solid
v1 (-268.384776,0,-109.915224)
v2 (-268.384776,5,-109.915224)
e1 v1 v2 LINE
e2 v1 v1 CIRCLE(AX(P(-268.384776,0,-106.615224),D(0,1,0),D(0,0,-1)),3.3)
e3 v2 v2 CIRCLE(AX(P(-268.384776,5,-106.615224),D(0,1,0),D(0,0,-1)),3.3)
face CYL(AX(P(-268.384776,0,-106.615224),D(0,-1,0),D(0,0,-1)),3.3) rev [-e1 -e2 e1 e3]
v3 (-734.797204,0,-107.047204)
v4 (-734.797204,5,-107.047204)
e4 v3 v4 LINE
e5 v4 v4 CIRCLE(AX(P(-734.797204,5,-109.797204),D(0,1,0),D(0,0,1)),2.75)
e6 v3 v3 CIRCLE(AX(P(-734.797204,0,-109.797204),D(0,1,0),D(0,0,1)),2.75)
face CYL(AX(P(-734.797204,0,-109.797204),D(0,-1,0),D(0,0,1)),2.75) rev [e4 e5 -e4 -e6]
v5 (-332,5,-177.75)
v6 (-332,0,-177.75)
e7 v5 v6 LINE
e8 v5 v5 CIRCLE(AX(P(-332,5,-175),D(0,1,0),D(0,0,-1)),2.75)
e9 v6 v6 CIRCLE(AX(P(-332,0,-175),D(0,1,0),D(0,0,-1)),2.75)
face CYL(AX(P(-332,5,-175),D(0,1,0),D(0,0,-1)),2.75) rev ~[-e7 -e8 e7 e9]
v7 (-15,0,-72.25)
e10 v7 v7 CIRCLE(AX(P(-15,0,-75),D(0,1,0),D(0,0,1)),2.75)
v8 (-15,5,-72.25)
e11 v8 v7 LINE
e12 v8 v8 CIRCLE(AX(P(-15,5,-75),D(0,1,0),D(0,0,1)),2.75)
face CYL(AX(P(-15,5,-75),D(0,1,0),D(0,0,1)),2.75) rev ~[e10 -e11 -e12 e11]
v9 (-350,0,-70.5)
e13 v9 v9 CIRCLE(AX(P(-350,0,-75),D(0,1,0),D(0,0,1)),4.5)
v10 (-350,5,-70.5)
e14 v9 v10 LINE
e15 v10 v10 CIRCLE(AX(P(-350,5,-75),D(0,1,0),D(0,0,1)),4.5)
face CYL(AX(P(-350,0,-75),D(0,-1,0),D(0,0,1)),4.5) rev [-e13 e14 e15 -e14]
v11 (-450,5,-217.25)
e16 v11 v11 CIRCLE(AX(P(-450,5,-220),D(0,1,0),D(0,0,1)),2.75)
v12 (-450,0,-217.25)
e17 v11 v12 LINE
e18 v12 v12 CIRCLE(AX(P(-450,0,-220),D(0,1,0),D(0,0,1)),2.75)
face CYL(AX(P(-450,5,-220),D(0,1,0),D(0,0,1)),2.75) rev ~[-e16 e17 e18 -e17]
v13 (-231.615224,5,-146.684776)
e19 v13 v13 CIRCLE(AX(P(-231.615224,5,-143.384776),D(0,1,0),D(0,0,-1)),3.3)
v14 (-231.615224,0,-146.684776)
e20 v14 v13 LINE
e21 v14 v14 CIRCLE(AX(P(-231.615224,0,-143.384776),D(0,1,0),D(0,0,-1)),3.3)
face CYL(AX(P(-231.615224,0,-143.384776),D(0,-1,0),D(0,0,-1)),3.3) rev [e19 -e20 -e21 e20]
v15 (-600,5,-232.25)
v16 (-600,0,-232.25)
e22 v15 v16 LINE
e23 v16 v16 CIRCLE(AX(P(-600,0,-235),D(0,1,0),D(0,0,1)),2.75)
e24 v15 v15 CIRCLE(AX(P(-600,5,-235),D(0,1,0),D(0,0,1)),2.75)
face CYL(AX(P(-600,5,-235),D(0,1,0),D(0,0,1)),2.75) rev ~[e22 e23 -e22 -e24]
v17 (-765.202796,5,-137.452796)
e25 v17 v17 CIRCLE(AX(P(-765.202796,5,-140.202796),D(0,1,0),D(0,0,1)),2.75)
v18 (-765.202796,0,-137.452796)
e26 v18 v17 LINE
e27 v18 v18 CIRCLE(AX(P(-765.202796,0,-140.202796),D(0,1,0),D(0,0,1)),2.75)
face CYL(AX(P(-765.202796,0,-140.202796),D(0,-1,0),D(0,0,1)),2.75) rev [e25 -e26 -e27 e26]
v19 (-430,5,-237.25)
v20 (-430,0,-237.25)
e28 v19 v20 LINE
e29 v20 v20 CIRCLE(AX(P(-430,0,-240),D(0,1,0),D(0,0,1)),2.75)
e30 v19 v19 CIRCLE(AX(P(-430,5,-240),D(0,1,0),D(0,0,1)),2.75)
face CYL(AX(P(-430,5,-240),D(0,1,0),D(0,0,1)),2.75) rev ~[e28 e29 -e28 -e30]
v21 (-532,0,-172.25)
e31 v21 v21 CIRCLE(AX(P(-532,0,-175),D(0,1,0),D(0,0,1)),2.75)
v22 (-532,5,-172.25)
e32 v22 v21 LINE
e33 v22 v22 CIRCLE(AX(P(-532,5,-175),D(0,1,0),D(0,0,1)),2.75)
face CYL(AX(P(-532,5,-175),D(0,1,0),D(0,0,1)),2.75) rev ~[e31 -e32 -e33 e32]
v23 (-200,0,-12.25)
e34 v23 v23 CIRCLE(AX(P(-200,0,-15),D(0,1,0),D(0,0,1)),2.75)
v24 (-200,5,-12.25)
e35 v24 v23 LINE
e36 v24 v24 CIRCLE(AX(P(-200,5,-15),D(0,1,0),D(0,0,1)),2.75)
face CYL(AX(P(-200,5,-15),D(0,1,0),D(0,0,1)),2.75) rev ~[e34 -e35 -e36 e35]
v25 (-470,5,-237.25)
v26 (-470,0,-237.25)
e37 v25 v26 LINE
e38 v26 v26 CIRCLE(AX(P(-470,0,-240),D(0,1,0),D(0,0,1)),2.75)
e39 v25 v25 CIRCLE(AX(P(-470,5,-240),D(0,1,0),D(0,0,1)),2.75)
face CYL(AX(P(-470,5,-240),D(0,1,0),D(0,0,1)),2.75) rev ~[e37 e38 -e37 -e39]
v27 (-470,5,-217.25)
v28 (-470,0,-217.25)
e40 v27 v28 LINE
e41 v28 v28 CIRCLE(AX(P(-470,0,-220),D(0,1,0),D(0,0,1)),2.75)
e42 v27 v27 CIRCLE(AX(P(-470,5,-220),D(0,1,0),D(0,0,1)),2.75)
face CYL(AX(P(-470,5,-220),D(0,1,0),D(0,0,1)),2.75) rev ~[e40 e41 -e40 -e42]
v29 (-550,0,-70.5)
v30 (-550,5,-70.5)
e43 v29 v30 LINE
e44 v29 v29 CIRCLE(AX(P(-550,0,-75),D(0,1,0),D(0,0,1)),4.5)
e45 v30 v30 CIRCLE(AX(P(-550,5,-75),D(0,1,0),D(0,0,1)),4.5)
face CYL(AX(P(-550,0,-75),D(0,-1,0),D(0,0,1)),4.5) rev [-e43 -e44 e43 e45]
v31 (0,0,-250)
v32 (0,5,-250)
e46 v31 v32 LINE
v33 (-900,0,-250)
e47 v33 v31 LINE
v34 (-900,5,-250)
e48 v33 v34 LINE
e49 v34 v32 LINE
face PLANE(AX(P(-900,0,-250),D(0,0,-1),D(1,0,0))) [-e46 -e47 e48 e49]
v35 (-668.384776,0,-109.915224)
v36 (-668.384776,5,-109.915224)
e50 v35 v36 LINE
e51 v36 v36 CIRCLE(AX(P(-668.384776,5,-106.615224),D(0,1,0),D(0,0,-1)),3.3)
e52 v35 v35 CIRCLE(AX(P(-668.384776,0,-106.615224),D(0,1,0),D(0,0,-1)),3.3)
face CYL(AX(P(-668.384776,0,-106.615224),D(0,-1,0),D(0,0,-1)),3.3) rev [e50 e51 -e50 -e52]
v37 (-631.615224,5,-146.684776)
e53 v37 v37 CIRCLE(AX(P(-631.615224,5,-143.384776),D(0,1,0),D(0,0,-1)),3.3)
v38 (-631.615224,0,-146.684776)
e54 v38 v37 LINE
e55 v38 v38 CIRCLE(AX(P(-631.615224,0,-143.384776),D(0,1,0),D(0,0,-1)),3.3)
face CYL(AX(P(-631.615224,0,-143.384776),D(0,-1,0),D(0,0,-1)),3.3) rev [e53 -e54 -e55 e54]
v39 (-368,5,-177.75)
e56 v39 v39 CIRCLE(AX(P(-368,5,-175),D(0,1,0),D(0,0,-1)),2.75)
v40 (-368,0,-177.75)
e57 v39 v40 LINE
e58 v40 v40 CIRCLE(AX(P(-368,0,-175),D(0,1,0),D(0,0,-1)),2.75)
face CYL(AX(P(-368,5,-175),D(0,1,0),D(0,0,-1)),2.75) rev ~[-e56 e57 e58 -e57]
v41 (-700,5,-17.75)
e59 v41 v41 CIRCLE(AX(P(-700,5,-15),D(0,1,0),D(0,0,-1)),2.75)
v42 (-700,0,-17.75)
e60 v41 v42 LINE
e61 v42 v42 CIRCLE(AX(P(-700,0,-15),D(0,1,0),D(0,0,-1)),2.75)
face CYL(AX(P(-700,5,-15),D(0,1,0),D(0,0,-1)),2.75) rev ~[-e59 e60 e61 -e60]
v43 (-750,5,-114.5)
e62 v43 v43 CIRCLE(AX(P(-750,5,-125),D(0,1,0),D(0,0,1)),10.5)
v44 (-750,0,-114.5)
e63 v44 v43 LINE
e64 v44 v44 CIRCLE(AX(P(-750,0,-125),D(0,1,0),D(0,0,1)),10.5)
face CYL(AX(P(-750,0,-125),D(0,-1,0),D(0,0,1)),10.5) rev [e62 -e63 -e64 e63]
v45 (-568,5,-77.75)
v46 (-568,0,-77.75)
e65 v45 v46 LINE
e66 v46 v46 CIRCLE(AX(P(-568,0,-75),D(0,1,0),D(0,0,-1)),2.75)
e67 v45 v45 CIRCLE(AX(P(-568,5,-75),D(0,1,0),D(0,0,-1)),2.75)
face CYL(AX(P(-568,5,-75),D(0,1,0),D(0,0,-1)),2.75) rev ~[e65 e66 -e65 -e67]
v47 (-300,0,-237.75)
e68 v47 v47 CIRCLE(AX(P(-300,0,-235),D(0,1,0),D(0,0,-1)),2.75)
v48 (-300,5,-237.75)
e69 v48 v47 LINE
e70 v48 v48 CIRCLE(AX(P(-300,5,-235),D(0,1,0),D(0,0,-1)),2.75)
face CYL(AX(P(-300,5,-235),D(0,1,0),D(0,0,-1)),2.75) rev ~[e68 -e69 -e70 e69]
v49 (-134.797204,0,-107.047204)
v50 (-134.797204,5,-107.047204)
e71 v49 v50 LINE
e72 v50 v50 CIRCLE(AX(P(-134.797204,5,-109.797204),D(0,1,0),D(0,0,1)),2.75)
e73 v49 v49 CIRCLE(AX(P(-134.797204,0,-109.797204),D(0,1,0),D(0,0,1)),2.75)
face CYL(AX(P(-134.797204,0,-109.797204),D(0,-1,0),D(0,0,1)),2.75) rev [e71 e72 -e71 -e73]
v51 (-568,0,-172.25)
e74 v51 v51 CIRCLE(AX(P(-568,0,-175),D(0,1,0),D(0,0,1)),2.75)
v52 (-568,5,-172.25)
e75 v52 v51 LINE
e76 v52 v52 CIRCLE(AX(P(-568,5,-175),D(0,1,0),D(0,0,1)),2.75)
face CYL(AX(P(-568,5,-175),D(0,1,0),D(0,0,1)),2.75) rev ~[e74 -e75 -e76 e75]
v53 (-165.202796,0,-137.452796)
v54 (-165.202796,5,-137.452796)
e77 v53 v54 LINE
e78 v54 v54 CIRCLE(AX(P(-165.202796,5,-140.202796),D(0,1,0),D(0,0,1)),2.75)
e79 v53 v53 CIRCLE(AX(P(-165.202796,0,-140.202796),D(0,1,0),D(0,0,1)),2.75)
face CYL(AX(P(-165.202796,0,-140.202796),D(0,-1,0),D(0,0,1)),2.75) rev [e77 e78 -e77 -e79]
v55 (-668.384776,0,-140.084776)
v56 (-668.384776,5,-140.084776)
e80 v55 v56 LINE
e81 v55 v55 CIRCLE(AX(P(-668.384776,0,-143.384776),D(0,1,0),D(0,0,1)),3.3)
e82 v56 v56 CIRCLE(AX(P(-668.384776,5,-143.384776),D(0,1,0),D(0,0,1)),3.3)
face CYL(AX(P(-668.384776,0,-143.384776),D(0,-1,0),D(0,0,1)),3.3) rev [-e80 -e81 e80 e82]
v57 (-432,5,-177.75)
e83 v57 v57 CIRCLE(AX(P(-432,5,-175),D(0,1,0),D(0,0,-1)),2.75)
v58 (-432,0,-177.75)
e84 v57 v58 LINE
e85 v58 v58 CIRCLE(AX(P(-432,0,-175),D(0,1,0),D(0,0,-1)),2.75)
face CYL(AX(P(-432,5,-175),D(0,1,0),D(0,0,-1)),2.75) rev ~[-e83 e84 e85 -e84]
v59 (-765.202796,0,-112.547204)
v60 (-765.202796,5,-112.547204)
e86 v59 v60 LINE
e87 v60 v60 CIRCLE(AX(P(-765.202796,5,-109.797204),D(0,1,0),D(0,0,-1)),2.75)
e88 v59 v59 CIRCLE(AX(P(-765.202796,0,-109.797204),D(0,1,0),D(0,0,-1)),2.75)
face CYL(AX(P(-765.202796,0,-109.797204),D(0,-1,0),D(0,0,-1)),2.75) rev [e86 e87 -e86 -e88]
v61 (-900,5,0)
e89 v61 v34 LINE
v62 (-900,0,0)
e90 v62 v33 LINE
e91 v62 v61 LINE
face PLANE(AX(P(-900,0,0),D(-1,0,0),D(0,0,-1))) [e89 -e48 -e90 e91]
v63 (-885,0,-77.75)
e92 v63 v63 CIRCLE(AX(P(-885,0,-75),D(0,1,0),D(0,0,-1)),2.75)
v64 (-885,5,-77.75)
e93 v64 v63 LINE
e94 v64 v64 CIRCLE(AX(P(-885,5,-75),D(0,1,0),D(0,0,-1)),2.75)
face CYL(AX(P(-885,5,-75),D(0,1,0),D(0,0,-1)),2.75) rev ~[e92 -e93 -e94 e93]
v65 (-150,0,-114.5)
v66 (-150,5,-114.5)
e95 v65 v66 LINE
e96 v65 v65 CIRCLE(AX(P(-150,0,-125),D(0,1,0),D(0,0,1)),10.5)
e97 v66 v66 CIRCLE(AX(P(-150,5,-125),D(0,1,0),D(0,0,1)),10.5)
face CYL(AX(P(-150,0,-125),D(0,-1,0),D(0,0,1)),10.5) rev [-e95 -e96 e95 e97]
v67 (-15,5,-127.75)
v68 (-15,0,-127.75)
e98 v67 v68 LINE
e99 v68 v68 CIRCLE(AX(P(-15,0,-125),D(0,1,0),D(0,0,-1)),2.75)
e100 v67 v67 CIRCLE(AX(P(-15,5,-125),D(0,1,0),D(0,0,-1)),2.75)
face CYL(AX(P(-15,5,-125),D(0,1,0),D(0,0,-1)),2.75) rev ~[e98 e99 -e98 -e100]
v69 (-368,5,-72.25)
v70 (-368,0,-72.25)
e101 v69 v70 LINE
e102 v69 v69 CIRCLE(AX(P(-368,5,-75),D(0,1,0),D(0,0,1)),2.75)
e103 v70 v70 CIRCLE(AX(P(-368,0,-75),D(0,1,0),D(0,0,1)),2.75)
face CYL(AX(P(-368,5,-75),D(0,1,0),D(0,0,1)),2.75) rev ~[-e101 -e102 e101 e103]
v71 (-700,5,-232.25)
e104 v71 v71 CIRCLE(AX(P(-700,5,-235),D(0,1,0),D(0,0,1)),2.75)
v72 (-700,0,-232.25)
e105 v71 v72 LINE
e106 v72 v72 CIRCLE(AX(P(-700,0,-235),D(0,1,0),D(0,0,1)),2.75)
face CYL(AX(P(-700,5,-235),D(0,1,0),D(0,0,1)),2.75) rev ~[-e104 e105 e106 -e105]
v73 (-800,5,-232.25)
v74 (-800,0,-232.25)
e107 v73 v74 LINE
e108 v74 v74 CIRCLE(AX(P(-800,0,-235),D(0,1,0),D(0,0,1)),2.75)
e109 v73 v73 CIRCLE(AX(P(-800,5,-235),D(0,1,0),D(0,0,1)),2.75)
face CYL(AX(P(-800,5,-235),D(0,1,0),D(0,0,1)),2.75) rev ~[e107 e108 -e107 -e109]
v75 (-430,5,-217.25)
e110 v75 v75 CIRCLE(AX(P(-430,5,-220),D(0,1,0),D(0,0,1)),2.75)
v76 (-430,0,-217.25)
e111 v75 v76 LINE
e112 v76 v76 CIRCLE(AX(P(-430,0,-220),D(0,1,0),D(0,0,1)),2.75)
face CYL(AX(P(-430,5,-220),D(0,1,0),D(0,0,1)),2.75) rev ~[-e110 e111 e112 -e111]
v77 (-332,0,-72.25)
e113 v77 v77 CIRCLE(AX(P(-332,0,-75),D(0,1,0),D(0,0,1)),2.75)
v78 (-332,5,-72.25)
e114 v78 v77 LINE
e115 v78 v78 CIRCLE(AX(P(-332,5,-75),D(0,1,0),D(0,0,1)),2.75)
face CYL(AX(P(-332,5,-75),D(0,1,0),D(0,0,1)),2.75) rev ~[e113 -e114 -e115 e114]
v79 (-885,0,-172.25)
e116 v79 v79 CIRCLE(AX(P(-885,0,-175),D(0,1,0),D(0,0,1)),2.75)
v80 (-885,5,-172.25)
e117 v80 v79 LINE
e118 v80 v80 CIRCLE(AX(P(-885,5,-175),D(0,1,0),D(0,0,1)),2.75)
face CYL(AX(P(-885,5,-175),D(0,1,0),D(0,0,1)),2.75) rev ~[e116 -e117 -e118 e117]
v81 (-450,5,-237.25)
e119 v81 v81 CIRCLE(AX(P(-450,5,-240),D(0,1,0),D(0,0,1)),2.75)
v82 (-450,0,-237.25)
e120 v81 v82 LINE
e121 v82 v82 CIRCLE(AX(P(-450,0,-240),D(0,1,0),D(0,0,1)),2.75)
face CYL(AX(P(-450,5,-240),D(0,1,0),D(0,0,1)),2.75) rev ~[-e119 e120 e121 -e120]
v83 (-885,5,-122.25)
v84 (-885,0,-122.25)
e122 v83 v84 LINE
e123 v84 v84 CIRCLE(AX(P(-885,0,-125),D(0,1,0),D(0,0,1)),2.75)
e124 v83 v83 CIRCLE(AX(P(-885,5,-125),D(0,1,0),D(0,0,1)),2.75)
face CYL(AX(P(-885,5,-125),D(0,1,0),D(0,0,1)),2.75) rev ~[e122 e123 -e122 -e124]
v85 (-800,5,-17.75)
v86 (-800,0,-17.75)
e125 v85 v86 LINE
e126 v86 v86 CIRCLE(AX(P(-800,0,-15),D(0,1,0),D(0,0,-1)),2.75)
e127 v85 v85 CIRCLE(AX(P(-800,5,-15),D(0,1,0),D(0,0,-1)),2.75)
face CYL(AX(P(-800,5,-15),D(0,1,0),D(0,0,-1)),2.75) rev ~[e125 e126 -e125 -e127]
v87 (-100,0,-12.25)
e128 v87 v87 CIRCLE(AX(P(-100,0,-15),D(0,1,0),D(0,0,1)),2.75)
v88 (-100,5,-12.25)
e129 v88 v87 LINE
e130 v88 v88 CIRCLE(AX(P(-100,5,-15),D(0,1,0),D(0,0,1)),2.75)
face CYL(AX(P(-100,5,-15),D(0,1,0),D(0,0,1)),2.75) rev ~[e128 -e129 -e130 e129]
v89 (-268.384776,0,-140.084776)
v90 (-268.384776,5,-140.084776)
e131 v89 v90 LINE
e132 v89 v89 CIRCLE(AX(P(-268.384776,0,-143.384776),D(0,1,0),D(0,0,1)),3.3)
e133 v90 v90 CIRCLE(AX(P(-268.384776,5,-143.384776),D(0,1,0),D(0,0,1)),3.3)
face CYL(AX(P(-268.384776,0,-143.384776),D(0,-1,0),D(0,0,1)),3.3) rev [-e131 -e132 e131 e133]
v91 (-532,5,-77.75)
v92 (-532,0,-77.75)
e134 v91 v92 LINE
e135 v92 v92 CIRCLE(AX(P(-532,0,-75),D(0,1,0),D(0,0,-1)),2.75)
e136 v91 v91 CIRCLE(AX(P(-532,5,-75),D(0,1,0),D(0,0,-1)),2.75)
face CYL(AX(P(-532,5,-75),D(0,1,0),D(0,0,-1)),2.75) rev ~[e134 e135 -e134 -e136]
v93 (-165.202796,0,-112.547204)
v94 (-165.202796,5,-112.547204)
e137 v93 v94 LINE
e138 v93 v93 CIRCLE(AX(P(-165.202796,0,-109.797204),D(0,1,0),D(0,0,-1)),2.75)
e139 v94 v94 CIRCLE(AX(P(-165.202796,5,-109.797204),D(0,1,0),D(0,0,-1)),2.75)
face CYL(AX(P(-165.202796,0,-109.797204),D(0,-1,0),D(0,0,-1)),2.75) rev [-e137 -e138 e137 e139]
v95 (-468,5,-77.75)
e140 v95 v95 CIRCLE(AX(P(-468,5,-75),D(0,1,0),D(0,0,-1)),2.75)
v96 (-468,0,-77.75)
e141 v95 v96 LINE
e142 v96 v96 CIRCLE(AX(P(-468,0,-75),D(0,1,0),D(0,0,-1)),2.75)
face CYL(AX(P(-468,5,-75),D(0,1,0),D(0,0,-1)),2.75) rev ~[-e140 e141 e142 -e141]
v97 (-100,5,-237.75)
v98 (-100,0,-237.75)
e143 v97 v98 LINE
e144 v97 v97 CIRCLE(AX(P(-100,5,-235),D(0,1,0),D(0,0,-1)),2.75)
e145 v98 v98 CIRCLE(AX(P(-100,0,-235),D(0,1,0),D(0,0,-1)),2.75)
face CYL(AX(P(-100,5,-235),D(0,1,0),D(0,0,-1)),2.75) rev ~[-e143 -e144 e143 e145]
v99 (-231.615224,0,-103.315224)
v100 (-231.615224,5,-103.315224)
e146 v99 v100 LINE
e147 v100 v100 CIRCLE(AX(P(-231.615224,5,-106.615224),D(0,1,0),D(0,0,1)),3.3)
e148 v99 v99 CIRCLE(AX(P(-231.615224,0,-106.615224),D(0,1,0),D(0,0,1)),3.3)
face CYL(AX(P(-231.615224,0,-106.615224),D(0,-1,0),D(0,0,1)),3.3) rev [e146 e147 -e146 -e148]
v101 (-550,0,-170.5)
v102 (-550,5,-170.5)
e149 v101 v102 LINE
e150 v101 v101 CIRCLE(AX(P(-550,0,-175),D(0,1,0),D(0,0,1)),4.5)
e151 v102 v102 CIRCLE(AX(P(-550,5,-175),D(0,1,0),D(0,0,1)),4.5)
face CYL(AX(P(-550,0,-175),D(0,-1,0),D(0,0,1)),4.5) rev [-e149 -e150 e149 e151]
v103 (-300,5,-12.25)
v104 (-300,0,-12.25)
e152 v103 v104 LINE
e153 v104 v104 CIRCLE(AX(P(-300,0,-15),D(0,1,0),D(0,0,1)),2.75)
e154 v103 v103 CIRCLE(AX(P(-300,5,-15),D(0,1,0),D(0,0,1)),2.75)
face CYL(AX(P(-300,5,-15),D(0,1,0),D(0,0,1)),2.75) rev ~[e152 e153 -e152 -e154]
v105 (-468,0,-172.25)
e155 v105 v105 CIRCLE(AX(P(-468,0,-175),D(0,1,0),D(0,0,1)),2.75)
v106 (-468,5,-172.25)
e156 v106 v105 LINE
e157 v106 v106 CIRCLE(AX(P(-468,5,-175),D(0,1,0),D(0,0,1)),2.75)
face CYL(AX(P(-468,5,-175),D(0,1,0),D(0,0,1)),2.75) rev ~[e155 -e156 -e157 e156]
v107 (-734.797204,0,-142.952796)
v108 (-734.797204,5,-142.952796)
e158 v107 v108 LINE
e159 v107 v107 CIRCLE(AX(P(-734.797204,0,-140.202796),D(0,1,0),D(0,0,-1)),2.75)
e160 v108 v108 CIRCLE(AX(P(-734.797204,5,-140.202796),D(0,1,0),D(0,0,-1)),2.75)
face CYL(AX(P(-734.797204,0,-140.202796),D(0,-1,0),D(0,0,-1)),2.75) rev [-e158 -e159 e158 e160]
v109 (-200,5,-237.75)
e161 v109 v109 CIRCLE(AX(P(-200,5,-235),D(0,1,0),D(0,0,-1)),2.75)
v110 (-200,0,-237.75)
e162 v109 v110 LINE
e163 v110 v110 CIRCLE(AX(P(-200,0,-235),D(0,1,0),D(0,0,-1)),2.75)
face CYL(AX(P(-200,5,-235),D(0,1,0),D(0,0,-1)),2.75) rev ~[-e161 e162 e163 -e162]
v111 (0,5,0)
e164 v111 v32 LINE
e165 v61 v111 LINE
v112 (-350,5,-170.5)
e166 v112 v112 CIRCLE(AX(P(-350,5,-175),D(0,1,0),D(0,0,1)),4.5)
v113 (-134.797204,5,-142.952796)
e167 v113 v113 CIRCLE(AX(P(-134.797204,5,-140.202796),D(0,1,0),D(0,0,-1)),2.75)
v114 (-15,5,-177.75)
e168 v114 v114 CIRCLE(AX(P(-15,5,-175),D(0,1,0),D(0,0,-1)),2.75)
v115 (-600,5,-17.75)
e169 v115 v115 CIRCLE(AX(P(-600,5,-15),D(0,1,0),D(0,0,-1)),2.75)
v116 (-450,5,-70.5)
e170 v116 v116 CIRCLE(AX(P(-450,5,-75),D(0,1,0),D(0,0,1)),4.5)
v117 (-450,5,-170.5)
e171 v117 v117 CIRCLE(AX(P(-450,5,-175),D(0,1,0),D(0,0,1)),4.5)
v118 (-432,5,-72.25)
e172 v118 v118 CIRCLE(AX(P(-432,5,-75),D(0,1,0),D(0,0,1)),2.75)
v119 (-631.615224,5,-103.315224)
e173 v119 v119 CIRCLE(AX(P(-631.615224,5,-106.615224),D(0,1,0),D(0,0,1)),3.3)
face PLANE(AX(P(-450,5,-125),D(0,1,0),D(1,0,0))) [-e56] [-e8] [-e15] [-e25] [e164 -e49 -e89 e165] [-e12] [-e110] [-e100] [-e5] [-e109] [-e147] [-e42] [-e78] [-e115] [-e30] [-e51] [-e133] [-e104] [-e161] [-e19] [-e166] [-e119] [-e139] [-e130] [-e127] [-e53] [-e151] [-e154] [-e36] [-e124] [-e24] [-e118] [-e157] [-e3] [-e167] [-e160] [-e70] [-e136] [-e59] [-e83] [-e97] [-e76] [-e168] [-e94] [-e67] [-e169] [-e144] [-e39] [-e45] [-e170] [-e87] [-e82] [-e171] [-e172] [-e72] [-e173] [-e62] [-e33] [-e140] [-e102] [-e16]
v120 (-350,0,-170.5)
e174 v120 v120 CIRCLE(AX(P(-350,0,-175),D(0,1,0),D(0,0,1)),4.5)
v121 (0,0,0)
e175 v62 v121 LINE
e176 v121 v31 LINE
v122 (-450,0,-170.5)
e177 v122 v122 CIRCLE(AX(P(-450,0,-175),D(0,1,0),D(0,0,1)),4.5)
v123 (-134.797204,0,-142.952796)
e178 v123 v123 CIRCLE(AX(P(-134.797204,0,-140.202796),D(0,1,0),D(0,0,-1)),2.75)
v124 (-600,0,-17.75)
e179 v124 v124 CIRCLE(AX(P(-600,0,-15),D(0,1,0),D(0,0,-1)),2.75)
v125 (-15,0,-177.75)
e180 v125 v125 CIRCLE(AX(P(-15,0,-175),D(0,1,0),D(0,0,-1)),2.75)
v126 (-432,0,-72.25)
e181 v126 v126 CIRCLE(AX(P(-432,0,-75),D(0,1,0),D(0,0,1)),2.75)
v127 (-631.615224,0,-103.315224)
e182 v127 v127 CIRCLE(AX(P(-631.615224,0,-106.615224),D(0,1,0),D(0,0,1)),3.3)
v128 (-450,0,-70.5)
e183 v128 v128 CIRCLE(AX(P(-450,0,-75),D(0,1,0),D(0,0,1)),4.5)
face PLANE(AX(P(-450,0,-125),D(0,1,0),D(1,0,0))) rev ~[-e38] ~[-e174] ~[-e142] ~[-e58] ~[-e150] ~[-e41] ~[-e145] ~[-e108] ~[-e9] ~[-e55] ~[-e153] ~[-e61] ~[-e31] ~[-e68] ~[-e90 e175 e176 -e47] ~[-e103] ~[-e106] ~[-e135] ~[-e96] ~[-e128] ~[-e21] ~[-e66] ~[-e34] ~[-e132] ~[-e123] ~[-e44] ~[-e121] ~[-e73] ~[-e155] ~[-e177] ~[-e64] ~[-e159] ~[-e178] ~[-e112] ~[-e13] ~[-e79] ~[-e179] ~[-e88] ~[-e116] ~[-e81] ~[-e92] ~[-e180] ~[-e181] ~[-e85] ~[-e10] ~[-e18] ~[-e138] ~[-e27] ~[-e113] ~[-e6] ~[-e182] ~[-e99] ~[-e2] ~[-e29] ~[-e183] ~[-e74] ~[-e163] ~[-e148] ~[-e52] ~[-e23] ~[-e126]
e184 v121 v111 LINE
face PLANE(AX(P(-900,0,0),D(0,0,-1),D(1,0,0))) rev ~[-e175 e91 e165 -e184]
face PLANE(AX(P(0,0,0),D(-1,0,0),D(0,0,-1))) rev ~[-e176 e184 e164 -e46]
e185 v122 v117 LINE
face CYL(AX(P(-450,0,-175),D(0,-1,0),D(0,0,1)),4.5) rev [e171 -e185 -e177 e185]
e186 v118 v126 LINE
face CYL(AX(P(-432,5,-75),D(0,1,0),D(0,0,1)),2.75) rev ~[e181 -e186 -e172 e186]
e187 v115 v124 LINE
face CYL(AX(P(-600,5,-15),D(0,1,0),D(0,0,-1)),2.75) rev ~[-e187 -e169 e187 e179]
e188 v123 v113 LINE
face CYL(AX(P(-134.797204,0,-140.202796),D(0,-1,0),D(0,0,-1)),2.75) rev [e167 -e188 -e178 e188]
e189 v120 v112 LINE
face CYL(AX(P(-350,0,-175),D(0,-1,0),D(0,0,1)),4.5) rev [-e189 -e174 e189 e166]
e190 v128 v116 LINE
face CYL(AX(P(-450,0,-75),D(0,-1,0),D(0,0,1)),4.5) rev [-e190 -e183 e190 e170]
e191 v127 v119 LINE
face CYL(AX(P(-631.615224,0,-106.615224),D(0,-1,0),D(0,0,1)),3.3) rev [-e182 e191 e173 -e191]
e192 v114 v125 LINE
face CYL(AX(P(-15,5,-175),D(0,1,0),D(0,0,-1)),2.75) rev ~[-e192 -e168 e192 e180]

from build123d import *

# Parameters (mm, degrees)
SKETCH_1_W          = 900
SKETCH_1_H          = 250
SKETCH_1_R          = 4.5
SKETCH_1_R_2        = 10.5
SKETCH_1_R_3        = 2.75
SKETCH_1_R_4        = 3.3
EXTRUDE_1_DEPTH     = 5
SKETCH_2_R          = 2.75
CUT_EXTRUDE_1_DEPTH = 935.090466711
SKETCH_3_R          = 2.75
CUT_EXTRUDE_2_DEPTH = 935.090466711
SKETCH_5_R          = 2.75
CUT_EXTRUDE_4_DEPTH = 935.090466711


with BuildPart() as part:
    # 草图1 → 凸台-拉伸1 (new body)
    with BuildSketch(Plane(origin=(0, 0, 0), x_dir=(1, 0, 0), z_dir=(0, 1, 0))):
        with Locations((-450, 125)):
            Rectangle(SKETCH_1_W, SKETCH_1_H)
        with Locations(Location((-550, 175, 0), (0, 0, 270))):
            Circle(SKETCH_1_R, mode=Mode.SUBTRACT)
        with Locations(Location((-450, 175, 0), (0, 0, 270))):
            Circle(SKETCH_1_R, mode=Mode.SUBTRACT)
        with Locations(Location((-350, 175, 0), (0, 0, 270))):
            Circle(SKETCH_1_R, mode=Mode.SUBTRACT)
        with Locations(Location((-350, 75, 0), (0, 0, 270))):
            Circle(SKETCH_1_R, mode=Mode.SUBTRACT)
        with Locations(Location((-450, 75, 0), (0, 0, 270))):
            Circle(SKETCH_1_R, mode=Mode.SUBTRACT)
        with Locations(Location((-550, 75, 0), (0, 0, 270))):
            Circle(SKETCH_1_R, mode=Mode.SUBTRACT)
        with Locations(Location((-750, 125, 0), (0, 0, 270))):
            Circle(SKETCH_1_R_2, mode=Mode.SUBTRACT)
        with Locations(Location((-150, 125, 0), (0, 0, 270))):
            Circle(SKETCH_1_R_2, mode=Mode.SUBTRACT)
        with Locations(Location((-765.202795796, 140.202795796, 0), (0, 0, 270))):
            Circle(SKETCH_1_R_3, mode=Mode.SUBTRACT)
        with Locations(Location((-668.384776311, 143.384776311, 0), (0, 0, 270))):
            Circle(SKETCH_1_R_4, mode=Mode.SUBTRACT)
        with Locations(Location((-231.615223689, 143.384776311, 0), (0, 0, 90))):
            Circle(SKETCH_1_R_4, mode=Mode.SUBTRACT)
        with Locations(Location((-134.797204204, 140.202795796, 0), (0, 0, 90))):
            Circle(SKETCH_1_R_3, mode=Mode.SUBTRACT)
        with Locations(Location((-734.797204204, 140.202795796, 0), (0, 0, 90))):
            Circle(SKETCH_1_R_3, mode=Mode.SUBTRACT)
        with Locations(Location((-734.797204204, 109.797204204, 0), (0, 0, 270))):
            Circle(SKETCH_1_R_3, mode=Mode.SUBTRACT)
        with Locations(Location((-765.202795796, 109.797204204, 0), (0, 0, 90))):
            Circle(SKETCH_1_R_3, mode=Mode.SUBTRACT)
        with Locations(Location((-631.615223689, 143.384776311, 0), (0, 0, 90))):
            Circle(SKETCH_1_R_4, mode=Mode.SUBTRACT)
        with Locations(Location((-631.615223689, 106.615223689, 0), (0, 0, 270))):
            Circle(SKETCH_1_R_4, mode=Mode.SUBTRACT)
        with Locations(Location((-668.384776311, 106.615223689, 0), (0, 0, 90))):
            Circle(SKETCH_1_R_4, mode=Mode.SUBTRACT)
        with Locations(Location((-268.384776311, 143.384776311, 0), (0, 0, 270))):
            Circle(SKETCH_1_R_4, mode=Mode.SUBTRACT)
        with Locations(Location((-268.384776311, 106.615223689, 0), (0, 0, 90))):
            Circle(SKETCH_1_R_4, mode=Mode.SUBTRACT)
        with Locations(Location((-231.615223689, 106.615223689, 0), (0, 0, 270))):
            Circle(SKETCH_1_R_4, mode=Mode.SUBTRACT)
        with Locations(Location((-165.202795796, 109.797204204, 0), (0, 0, 90))):
            Circle(SKETCH_1_R_3, mode=Mode.SUBTRACT)
        with Locations(Location((-134.797204204, 109.797204204, 0), (0, 0, 270))):
            Circle(SKETCH_1_R_3, mode=Mode.SUBTRACT)
        with Locations(Location((-165.202795796, 140.202795796, 0), (0, 0, 270))):
            Circle(SKETCH_1_R_3, mode=Mode.SUBTRACT)
    extrude(amount=EXTRUDE_1_DEPTH)

    # 草图2 → 切除-拉伸1 (cut, through all)
    with BuildSketch(Plane(origin=(0, 5, 0), x_dir=(1, 0, 0), z_dir=(0, 1, 0))):
        with Locations(Location((-470, 240, 0), (0, 0, 270))):
            Circle(SKETCH_2_R)
        with Locations(Location((-430, 240, 0), (0, 0, 270))):
            Circle(SKETCH_2_R)
        with Locations(Location((-430, 220, 0), (0, 0, 270))):
            Circle(SKETCH_2_R)
        with Locations(Location((-470, 220, 0), (0, 0, 270))):
            Circle(SKETCH_2_R)
        with Locations(Location((-450, 220, 0), (0, 0, 270))):
            Circle(SKETCH_2_R)
        with Locations(Location((-450, 240, 0), (0, 0, 270))):
            Circle(SKETCH_2_R)
        with Locations(Location((-885, 175, 0), (0, 0, 270))):
            Circle(SKETCH_2_R)
        with Locations(Location((-885, 125, 0), (0, 0, 270))):
            Circle(SKETCH_2_R)
        with Locations(Location((-885, 75, 0), (0, 0, 90))):
            Circle(SKETCH_2_R)
        with Locations(Location((-15, 175, 0), (0, 0, 90))):
            Circle(SKETCH_2_R)
        with Locations(Location((-15, 125, 0), (0, 0, 90))):
            Circle(SKETCH_2_R)
        with Locations(Location((-15, 75, 0), (0, 0, 270))):
            Circle(SKETCH_2_R)
    extrude(amount=-CUT_EXTRUDE_1_DEPTH, mode=Mode.SUBTRACT)

    # 草图3 → 切除-拉伸2 (cut, through all)
    with BuildSketch(Plane(origin=(0, 5, 0), x_dir=(1, 0, 0), z_dir=(0, 1, 0))):
        with Locations(Location((-568, 175, 0), (0, 0, 270))):
            Circle(SKETCH_3_R)
        with Locations(Location((-532, 175, 0), (0, 0, 270))):
            Circle(SKETCH_3_R)
        with Locations(Location((-468, 175, 0), (0, 0, 270))):
            Circle(SKETCH_3_R)
        with Locations(Location((-432, 175, 0), (0, 0, 90))):
            Circle(SKETCH_3_R)
        with Locations(Location((-368, 175, 0), (0, 0, 90))):
            Circle(SKETCH_3_R)
        with Locations(Location((-332, 175, 0), (0, 0, 90))):
            Circle(SKETCH_3_R)
        with Locations(Location((-332, 75, 0), (0, 0, 270))):
            Circle(SKETCH_3_R)
        with Locations(Location((-368, 75, 0), (0, 0, 270))):
            Circle(SKETCH_3_R)
        with Locations(Location((-432, 75, 0), (0, 0, 270))):
            Circle(SKETCH_3_R)
        with Locations(Location((-468, 75, 0), (0, 0, 90))):
            Circle(SKETCH_3_R)
        with Locations(Location((-532, 75, 0), (0, 0, 90))):
            Circle(SKETCH_3_R)
        with Locations(Location((-568, 75, 0), (0, 0, 90))):
            Circle(SKETCH_3_R)
    extrude(amount=-CUT_EXTRUDE_2_DEPTH, mode=Mode.SUBTRACT)

    # 草图5 → 切除-拉伸4 (cut, through all)
    with BuildSketch(Plane(origin=(0, 5, 0), x_dir=(1, 0, 0), z_dir=(0, 1, 0))):
        with Locations(Location((-800, 235, 0), (0, 0, 270))):
            Circle(SKETCH_5_R)
        with Locations(Location((-700, 235, 0), (0, 0, 270))):
            Circle(SKETCH_5_R)
        with Locations(Location((-600, 235, 0), (0, 0, 270))):
            Circle(SKETCH_5_R)
        with Locations(Location((-600, 15, 0), (0, 0, 90))):
            Circle(SKETCH_5_R)
        with Locations(Location((-700, 15, 0), (0, 0, 90))):
            Circle(SKETCH_5_R)
        with Locations(Location((-800, 15, 0), (0, 0, 90))):
            Circle(SKETCH_5_R)
        with Locations(Location((-300, 15, 0), (0, 0, 270))):
            Circle(SKETCH_5_R)
        with Locations(Location((-200, 15, 0), (0, 0, 270))):
            Circle(SKETCH_5_R)
        with Locations(Location((-100, 15, 0), (0, 0, 270))):
            Circle(SKETCH_5_R)
        with Locations(Location((-300, 235, 0), (0, 0, 90))):
            Circle(SKETCH_5_R)
        with Locations(Location((-200, 235, 0), (0, 0, 90))):
            Circle(SKETCH_5_R)
        with Locations(Location((-100, 235, 0), (0, 0, 90))):
            Circle(SKETCH_5_R)
    extrude(amount=-CUT_EXTRUDE_4_DEPTH, mode=Mode.SUBTRACT)


solid = part.part
